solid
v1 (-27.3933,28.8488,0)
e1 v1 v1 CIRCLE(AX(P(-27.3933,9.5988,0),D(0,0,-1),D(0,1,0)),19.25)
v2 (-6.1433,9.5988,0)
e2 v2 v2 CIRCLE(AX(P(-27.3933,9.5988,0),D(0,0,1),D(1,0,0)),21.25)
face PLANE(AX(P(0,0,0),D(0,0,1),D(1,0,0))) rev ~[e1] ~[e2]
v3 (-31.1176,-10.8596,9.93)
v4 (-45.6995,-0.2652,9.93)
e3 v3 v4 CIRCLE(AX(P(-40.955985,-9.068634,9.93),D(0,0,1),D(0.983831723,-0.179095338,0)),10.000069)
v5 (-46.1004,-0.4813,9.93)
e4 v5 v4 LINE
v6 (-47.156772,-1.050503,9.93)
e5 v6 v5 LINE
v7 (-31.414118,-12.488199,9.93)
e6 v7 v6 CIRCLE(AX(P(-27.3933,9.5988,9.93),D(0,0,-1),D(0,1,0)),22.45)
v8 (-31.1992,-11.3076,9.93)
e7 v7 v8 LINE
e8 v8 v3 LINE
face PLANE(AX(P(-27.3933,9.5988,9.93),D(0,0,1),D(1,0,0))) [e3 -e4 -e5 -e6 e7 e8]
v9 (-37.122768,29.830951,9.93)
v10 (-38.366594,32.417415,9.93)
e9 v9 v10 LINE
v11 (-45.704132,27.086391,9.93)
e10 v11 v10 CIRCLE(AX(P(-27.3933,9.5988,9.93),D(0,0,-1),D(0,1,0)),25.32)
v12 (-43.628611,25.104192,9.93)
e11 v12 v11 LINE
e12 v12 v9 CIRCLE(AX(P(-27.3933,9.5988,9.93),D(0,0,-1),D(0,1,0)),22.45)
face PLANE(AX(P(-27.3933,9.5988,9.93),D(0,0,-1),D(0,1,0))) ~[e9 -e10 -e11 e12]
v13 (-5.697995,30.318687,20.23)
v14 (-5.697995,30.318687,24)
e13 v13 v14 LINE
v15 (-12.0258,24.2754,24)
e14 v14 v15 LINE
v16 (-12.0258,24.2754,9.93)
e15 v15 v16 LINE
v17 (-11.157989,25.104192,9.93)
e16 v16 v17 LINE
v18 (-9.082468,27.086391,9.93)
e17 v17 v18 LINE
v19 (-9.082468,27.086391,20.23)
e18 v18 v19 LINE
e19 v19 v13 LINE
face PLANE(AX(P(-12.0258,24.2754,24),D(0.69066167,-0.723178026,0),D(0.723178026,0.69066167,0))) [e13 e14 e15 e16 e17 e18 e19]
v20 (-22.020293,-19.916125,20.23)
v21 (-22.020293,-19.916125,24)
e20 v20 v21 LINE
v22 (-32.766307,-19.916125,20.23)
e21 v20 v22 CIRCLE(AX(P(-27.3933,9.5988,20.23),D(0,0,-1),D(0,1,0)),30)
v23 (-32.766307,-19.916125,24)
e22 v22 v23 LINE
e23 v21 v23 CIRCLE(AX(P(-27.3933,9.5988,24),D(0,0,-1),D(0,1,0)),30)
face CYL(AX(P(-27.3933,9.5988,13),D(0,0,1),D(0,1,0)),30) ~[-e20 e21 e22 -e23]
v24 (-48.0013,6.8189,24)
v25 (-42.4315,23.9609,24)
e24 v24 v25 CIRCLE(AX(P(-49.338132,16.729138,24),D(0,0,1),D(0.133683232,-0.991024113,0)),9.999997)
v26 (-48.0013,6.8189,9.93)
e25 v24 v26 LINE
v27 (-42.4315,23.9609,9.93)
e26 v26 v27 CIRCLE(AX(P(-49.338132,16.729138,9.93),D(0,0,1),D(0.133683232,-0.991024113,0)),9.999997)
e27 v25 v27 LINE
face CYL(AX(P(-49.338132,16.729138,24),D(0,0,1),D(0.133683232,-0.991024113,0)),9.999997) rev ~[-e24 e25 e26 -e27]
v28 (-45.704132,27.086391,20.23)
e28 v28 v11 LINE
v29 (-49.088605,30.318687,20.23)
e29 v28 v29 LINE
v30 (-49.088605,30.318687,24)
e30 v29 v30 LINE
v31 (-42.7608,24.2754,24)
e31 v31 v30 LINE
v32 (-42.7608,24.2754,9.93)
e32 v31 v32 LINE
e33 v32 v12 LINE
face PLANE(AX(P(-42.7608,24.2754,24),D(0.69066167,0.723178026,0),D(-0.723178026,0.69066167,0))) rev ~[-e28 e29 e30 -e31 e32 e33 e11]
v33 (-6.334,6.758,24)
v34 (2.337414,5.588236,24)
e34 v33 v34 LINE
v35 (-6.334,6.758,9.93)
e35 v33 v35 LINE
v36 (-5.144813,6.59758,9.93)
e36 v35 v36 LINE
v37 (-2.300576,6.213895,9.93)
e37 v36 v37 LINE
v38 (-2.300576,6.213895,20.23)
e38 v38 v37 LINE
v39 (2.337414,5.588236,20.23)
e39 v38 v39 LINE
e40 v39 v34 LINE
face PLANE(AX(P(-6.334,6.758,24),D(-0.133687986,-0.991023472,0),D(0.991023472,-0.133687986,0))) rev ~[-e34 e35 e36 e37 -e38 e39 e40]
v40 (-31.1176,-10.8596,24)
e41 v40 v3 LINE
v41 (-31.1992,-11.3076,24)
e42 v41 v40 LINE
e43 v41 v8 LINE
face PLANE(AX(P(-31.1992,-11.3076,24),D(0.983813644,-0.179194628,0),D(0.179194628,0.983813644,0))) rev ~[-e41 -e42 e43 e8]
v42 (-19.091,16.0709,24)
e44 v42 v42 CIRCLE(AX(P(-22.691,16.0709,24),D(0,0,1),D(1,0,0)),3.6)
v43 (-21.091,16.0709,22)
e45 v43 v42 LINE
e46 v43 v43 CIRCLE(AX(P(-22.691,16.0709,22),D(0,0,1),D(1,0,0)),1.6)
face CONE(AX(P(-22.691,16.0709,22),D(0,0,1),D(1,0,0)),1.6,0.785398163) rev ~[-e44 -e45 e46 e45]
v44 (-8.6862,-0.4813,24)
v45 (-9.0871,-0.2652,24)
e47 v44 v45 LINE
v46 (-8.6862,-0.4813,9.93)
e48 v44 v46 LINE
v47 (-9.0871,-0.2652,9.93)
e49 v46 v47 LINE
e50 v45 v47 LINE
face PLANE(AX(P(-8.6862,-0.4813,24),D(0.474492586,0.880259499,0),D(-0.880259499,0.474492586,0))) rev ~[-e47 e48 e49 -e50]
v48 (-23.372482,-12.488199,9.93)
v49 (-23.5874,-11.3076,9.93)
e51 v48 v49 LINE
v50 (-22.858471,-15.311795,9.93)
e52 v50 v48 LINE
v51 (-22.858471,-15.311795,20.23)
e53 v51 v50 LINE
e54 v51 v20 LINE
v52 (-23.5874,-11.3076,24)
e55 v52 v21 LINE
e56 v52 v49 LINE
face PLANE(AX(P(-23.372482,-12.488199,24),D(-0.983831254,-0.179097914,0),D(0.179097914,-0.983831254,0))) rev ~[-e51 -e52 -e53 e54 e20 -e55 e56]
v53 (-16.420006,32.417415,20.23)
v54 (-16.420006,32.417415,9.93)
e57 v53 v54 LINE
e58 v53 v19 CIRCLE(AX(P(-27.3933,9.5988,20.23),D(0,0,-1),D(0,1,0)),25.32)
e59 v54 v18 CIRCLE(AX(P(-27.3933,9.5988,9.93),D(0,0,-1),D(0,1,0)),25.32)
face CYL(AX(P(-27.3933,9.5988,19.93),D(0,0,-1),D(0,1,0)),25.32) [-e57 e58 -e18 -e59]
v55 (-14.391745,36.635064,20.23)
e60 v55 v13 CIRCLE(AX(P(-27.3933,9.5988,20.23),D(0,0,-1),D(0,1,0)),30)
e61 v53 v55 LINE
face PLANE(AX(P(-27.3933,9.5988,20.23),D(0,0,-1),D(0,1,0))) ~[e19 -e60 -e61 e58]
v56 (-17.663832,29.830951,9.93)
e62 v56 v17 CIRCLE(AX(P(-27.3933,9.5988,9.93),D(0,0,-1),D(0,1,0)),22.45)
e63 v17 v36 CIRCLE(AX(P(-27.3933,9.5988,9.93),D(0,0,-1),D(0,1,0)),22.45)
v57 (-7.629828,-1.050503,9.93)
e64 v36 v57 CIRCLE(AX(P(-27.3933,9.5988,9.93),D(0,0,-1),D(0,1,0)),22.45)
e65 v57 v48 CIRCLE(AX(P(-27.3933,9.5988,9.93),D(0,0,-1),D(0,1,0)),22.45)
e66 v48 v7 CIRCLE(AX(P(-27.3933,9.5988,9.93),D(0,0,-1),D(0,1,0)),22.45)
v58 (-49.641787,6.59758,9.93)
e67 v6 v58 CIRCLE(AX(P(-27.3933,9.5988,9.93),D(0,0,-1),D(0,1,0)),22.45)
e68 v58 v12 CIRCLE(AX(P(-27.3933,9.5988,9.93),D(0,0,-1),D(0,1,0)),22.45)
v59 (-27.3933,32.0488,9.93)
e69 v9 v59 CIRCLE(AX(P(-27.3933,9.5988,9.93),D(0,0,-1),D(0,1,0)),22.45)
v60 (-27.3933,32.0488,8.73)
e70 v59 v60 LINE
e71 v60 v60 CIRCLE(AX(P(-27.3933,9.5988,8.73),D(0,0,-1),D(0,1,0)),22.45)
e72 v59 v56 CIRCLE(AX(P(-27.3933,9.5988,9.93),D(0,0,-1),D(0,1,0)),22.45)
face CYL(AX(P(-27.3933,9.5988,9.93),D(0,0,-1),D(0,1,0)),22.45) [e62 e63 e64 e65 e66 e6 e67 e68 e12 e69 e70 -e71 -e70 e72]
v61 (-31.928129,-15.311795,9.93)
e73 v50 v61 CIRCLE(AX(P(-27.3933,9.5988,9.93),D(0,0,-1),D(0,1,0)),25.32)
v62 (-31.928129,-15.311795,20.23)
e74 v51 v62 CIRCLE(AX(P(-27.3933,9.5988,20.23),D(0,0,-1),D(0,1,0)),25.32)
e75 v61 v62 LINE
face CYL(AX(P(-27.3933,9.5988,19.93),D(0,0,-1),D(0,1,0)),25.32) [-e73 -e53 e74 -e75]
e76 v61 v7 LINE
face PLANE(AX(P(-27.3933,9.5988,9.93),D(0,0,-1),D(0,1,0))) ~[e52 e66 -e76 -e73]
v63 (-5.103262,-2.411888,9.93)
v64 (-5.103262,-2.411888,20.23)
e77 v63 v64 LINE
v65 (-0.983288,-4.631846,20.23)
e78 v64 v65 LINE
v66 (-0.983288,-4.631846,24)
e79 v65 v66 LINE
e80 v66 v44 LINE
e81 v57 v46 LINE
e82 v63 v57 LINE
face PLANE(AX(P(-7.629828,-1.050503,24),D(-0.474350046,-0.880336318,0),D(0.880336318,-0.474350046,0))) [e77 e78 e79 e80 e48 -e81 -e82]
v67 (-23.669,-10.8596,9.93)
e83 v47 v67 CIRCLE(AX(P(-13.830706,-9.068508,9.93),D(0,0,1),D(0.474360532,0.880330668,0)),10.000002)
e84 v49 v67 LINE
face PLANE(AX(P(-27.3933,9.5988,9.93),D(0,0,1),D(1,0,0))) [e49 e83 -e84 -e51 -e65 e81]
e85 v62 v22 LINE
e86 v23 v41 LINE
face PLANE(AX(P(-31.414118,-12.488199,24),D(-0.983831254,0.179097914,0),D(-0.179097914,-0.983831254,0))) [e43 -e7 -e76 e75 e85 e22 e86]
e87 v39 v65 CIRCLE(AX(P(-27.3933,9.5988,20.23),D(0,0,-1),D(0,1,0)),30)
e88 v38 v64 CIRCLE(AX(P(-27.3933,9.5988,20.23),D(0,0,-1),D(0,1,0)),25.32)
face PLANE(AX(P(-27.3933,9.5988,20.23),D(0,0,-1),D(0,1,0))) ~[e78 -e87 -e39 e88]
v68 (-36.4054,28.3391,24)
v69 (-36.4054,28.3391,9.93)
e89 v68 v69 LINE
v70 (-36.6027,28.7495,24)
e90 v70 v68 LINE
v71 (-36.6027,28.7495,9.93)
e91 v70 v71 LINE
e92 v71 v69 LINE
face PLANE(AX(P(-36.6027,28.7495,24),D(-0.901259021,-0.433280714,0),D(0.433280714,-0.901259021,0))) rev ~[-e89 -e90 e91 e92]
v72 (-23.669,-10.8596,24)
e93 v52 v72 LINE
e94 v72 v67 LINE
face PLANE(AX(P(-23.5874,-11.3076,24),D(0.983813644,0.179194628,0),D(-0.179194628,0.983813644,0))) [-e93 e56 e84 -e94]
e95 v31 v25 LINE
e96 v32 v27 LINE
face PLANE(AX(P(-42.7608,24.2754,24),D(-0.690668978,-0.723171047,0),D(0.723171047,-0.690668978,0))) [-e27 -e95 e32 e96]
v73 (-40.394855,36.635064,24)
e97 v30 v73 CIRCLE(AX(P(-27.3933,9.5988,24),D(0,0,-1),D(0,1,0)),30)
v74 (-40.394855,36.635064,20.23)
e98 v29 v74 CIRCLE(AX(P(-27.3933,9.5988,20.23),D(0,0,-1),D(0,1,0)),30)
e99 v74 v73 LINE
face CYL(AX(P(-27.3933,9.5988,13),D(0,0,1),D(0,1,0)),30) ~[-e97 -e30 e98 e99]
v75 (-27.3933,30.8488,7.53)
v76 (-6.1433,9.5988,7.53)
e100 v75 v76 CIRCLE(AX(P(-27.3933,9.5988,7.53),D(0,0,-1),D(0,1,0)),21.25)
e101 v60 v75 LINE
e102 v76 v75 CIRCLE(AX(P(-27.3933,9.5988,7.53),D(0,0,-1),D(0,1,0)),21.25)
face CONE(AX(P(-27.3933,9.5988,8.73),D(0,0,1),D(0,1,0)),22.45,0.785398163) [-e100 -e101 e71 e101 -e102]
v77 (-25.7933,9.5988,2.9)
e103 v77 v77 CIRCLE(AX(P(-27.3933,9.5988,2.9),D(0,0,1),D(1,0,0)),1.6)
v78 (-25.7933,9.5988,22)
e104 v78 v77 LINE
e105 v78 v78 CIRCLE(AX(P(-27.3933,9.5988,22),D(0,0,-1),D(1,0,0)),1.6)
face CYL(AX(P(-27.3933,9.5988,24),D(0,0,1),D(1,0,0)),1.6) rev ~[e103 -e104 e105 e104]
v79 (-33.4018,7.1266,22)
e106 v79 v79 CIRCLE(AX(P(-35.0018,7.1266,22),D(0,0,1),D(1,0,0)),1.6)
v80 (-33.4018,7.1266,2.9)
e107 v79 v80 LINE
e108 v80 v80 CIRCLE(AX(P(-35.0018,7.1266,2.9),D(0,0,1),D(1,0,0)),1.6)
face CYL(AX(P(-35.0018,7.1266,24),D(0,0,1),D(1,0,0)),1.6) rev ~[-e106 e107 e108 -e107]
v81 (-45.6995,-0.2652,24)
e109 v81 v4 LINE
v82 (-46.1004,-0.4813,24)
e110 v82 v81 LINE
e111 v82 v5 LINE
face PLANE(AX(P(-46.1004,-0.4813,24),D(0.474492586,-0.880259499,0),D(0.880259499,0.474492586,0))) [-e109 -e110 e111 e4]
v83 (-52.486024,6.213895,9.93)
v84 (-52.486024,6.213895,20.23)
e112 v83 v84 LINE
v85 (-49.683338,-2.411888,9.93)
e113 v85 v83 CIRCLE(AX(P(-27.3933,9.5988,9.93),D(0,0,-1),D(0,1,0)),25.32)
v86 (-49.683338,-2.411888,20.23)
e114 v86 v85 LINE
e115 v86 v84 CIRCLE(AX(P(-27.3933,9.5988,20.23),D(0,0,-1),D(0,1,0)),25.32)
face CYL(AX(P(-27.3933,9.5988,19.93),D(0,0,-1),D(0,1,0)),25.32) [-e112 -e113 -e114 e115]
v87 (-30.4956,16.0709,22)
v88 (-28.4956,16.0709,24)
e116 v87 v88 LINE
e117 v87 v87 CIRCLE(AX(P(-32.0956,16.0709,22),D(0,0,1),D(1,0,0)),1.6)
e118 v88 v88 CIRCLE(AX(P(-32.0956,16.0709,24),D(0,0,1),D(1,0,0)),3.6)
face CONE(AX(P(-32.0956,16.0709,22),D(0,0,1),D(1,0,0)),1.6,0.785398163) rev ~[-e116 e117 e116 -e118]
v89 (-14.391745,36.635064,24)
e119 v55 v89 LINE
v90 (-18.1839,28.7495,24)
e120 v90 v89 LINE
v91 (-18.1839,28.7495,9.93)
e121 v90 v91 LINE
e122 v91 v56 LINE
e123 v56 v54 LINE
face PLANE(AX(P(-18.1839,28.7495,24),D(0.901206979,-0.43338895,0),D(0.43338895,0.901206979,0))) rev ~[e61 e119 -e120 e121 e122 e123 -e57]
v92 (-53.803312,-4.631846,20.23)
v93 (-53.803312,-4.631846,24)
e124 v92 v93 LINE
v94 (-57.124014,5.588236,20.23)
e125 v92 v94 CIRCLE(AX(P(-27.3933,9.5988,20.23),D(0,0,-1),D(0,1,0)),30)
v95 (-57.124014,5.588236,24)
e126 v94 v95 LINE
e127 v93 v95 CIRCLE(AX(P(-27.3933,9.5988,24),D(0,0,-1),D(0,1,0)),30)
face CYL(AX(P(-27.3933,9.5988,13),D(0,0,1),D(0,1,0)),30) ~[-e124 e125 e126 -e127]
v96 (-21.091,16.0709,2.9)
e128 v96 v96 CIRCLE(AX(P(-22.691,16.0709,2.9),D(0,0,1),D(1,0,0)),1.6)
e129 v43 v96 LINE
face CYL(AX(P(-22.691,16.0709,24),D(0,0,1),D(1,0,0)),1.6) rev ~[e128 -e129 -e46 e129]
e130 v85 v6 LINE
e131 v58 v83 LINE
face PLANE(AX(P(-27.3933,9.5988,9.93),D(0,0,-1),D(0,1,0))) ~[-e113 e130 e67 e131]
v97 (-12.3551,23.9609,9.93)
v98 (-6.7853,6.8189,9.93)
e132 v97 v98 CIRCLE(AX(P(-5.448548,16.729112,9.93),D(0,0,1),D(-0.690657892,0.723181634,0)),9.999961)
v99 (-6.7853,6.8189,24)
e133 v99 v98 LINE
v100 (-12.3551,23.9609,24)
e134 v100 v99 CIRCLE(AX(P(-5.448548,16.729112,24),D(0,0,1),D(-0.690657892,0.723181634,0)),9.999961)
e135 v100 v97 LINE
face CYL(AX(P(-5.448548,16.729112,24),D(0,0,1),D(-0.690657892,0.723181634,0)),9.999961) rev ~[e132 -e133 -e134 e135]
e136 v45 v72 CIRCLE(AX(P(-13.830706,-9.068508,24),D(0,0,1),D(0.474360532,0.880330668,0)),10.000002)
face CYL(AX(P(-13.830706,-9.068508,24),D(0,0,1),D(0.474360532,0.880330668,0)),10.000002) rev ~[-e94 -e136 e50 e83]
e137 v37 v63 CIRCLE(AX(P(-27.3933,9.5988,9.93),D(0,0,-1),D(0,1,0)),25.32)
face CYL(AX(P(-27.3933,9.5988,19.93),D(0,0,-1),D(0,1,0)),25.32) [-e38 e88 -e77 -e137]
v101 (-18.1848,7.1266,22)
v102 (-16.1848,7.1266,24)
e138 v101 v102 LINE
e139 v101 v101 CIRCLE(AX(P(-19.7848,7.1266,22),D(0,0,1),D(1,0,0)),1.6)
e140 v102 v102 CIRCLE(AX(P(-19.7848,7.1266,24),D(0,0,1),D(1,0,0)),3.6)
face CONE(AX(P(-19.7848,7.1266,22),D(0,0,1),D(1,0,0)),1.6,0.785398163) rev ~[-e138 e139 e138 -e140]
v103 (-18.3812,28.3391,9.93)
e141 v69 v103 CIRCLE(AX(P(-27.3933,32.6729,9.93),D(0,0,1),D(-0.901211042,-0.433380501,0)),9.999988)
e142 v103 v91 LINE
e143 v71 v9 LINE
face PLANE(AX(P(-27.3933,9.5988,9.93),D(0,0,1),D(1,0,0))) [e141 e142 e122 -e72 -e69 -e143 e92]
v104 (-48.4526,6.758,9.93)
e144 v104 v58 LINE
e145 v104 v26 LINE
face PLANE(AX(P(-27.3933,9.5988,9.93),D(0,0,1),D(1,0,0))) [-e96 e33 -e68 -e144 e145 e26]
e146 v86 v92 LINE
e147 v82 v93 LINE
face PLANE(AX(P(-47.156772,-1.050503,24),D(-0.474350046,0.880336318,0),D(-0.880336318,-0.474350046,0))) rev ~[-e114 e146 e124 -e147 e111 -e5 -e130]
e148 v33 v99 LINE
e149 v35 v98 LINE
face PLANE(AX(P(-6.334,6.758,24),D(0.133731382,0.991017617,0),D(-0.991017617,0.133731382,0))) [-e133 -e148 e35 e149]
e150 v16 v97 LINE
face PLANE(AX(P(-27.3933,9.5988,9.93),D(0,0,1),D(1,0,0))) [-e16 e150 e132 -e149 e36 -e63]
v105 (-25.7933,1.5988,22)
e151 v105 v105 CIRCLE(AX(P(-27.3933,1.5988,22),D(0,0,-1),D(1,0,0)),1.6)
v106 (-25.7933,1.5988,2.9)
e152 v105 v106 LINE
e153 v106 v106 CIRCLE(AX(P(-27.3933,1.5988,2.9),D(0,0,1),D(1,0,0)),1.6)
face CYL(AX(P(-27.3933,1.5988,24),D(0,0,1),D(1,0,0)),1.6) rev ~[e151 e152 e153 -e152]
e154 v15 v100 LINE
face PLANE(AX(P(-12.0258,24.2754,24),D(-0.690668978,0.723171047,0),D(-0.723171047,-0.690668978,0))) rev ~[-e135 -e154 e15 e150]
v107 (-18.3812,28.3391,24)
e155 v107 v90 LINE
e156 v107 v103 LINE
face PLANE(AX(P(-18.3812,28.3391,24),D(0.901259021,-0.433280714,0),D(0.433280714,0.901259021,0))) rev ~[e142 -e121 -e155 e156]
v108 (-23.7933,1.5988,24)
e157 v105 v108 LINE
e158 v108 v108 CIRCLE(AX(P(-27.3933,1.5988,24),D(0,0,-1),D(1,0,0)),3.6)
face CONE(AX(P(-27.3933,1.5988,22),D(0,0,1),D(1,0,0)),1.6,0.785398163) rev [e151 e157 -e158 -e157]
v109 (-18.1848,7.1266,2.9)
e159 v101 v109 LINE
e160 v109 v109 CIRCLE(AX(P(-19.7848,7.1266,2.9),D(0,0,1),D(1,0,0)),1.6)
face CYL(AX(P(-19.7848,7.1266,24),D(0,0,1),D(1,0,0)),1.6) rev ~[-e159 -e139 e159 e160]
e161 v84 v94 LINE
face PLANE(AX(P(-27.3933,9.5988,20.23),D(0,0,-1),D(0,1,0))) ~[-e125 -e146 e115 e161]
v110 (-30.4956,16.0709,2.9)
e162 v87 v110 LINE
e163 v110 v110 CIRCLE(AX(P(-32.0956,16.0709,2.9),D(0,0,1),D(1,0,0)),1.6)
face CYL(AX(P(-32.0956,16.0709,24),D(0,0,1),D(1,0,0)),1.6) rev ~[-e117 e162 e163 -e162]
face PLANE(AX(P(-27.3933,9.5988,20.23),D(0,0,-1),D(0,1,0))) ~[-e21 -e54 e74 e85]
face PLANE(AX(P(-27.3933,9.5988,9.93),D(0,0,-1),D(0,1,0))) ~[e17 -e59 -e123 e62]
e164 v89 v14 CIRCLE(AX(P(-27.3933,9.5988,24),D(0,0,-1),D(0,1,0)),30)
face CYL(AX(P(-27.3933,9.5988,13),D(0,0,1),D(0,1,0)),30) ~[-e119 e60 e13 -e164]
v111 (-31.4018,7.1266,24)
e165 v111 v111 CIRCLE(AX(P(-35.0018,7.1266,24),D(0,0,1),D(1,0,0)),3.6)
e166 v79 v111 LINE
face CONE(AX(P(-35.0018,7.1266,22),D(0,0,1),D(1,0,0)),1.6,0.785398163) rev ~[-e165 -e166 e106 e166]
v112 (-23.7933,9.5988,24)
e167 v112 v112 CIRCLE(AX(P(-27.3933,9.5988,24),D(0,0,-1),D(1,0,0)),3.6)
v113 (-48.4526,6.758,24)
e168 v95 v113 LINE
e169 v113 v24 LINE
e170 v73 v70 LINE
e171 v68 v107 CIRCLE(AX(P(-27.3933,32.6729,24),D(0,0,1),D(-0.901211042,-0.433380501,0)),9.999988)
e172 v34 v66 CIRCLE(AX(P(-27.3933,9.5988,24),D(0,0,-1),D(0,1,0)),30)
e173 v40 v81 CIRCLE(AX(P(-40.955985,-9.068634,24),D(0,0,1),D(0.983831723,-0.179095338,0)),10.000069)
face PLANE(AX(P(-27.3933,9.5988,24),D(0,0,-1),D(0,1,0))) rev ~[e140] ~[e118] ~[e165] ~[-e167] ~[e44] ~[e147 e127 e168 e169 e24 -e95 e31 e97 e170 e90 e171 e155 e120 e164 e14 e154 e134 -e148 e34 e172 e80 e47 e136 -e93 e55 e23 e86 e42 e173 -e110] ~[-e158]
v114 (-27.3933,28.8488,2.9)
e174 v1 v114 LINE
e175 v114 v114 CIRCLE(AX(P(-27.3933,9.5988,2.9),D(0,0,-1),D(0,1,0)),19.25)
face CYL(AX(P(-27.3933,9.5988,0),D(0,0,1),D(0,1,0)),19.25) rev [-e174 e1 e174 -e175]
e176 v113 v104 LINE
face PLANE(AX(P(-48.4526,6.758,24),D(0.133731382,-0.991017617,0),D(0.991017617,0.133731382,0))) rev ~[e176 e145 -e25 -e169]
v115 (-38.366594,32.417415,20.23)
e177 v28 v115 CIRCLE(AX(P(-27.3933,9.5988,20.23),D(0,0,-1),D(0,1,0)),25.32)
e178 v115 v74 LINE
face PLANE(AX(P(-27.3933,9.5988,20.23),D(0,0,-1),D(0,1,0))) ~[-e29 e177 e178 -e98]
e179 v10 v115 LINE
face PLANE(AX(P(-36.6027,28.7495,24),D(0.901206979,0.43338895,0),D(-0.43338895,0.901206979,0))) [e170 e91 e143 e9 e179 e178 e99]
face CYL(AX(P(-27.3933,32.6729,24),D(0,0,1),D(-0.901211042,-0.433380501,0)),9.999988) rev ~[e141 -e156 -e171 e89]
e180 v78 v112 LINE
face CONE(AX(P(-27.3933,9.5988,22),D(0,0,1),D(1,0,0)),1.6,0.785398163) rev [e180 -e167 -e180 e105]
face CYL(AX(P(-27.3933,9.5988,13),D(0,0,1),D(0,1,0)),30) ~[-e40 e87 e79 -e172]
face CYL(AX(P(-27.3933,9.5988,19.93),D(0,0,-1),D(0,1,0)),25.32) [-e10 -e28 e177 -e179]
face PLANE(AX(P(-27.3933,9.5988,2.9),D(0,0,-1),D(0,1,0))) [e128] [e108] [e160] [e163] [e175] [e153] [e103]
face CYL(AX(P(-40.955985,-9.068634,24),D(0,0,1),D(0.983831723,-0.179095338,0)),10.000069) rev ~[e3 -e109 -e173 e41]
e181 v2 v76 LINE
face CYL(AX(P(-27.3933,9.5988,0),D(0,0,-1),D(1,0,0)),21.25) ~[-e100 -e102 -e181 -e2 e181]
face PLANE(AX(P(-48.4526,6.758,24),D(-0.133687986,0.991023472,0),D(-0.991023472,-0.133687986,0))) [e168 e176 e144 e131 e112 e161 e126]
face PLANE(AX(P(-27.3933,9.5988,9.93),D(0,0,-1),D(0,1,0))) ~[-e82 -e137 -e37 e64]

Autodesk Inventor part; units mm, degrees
ref_plane "YZ Plane" through (0, 0, 0) normal (1, 0, 0) x (0, 1, 0)
ref_plane "XZ Plane" through (0, 0, 0) normal (0, 1, 0) x (-1, 0, 0)
sketch "Эскиз1" plane through (0, 0, 0) normal (0, 0, 1) x (1, 0, 0)
  circle A0 centre (-27.3933, 9.5988) radius 21.25 projected
  circle A1 centre (-27.3933, 9.5988) radius 18.75 projected
  point P0 (0, 0)
ref_plane "РабПлоскость1" through (-34.9651, 34.6315, 13) normal (0, 0, 1) x (1, 0, 0)
extrude "Выдавливание1" add sketch "Эскиз1" along normal up to surface (13 mm away) contours A0 | A1
ref_plane "РабПлоскость3" through (-27.3933, 9.5988, 13) normal (-1, 0, 0) x (0, -1, 0)
sketch "Эскиз3" plane through (-27.3933, 9.5988, 13) normal (-1, 0, 0) x (0, -1, 0)
  line L0 (-22.45, -4.27) -> (-21.25, -5.47)
  line L1 (-22.45, -3.07) -> (-22.45, -4.27)
  line L2 (30, -3.07) -> (-30, -3.07) projected
  line L3 (30, -3.07) -> (-30, -3.07) projected
  line L4 (-21.25, 0) -> (21.25, 0) projected
  line L5 (-21.25, 0) -> (-30, 0)
  line L6 (-30, 0) -> (-30, -3.07)
  line L7 (-30, -3.07) -> (-21.25, -3.07)
  line L8 (-21.25, -3.07) -> (-21.25, 0)
  line L9 (0, 0) -> (0, -13)
  line L10 (21.25, -13) -> (-21.25, -13) projected
  line L11 (-21.25, -13) -> (-21.25, 0) projected
  line L12 (0, 0) -> (-30, 0)
  line L13 (-30, 0) -> (-30, 11)
  line L14 (-30, 11) -> (0, 11)
  line L15 (0, 11) -> (0, 0)
  line L16 (-25.52, 6.93) -> (-25.52, -23)
  line L17 (-25.32, 6.93) -> (-25.32, -23)
  line L18 (-25.32, 6.93) -> (-25.32, 11)
  line L19 (-25.32, 6.93) -> (-30, 6.93)
  line L20 (-25.32, 7.23) -> (-30, 7.23)
  point P0 (9.5988, -13)
  point P1 (-21.25, -3.07)
  point P2 (-25.32, -3.07)
  dimension "d21" = 11
  dimension "d25" = 0.2
  dimension "d26" = 0.3
revolve "Вращение1" add sketch "Эскиз3" angle 360 about axis through (-27.3933, 9.5988, 13) along (0, 0, -1) contours L1 L2 L11 L0 | L2 L17 L5 L8 | L5 L17 L18 L14 L15 L4 | L20 L13 L14 L18
sketch "Эскиз5" plane through (-27.3933, 9.5988, 24) normal (0, 0, 1) x (1, 0, 0)
  circle A0 centre (0, 0) radius 22.45 projected
  line L0 (-30.0943, 4.3007) -> (-34.526, 5.7406) projected
  arc A1 (-34.526, 5.7406) -> (-24.5579, -24.9382) centre (0, 0) ccw projected
  line L1 (-24.5579, -24.9382) -> (-21.8189, -21.1683) projected
  arc A2 (-21.8189, -21.1683) -> (-13.3898, -27.2924) centre (0, 0) ccw projected
  line L2 (-13.3898, -27.2924) -> (-16.1288, -31.0622) projected
  arc A3 (-16.1288, -31.0622) -> (16.1288, -31.0622) centre (0, 0) ccw projected
  line L3 (16.1288, -31.0622) -> (13.3898, -27.2924) projected
  arc A4 (13.3898, -27.2924) -> (21.8189, -21.1683) centre (0, 0) ccw projected
  line L4 (21.8189, -21.1683) -> (24.5579, -24.9382) projected
  arc A5 (24.5579, -24.9382) -> (34.526, 5.7406) centre (0, 0) ccw projected
  line L5 (34.526, 5.7406) -> (30.0943, 4.3007) projected
  arc A6 (30.0943, 4.3007) -> (26.8746, 14.2096) centre (0, 0) ccw projected
  line L6 (26.8746, 14.2096) -> (31.3064, 15.6496) projected
  arc A7 (31.3064, 15.6496) -> (5.2094, 34.6101) centre (0, 0) ccw projected
  line L7 (5.2094, 34.6101) -> (5.2094, 29.9503) projected
  arc A8 (5.2094, 29.9503) -> (-5.2094, 29.9503) centre (0, 0) ccw projected
  line L8 (-5.2094, 29.9503) -> (-5.2094, 34.6101) projected
  arc A9 (-5.2094, 34.6101) -> (-31.3064, 15.6496) centre (0, 0) ccw projected
  line L9 (-31.3064, 15.6496) -> (-26.8746, 14.2096) projected
  arc A10 (-26.8746, 14.2096) -> (-30.0943, 4.3007) centre (0, 0) ccw projected
  line L10 (3.8059, -20.9064) -> (6.2685, -34.4341) projected
  line L11 (18.7071, -10.0801) -> (30.8117, -16.6024) projected
  line L12 (21.0593, -2.8408) -> (34.6858, -4.679) projected
  line L13 (15.3675, 14.6766) -> (25.3112, 24.1732) projected
  line L14 (9.2094, 19.1507) -> (15.1685, 31.5423) projected
  line L15 (-9.2094, 19.1507) -> (-15.1685, 31.5423) projected
  line L16 (-15.3675, 14.6766) -> (-25.3112, 24.1732) projected
  line L17 (-21.0593, -2.8408) -> (-34.6858, -4.679) projected
  line L18 (-18.7071, -10.0801) -> (-30.8117, -16.6024) projected
  line L19 (-3.8059, -20.9064) -> (-6.2685, -34.4341) projected
  circle A11 centre (0, 0) radius 21.25 projected
  line L20 (-9.2094, 19.1507) -> (-9.0121, 18.7403)
  line L21 (9.0121, 18.7403) -> (9.2094, 19.1507)
  line L22 (15.3675, 14.6766) -> (15.0382, 14.3621)
  line L23 (21.0593, -2.8408) -> (20.608, -2.7799)
  line L24 (18.7071, -10.0801) -> (18.3062, -9.864)
  line L25 (3.8059, -20.9064) -> (3.7243, -20.4584)
  line L26 (-3.8059, -20.9064) -> (-3.7243, -20.4584)
  line L27 (-18.7071, -10.0801) -> (-18.3062, -9.864)
  line L28 (-21.0593, -2.8408) -> (-20.608, -2.7799)
  line L29 (-15.3675, 14.6766) -> (-15.0382, 14.3621)
  arc A12 (-20.608, -2.7799) -> (-15.0382, 14.3621) centre (-21.9448, 7.1303) ccw
  arc A13 (-9.0121, 18.7403) -> (9.0121, 18.7403) centre (0, 23.0741) ccw
  arc A14 (15.0382, 14.3621) -> (20.608, -2.7799) centre (21.9448, 7.1303) ccw
  arc A15 (18.3062, -9.864) -> (3.7243, -20.4584) centre (13.5626, -18.6674) ccw
  arc A16 (-3.7243, -20.4584) -> (-18.3062, -9.864) centre (-13.5626, -18.6674) ccw
  point P0 (27.3933, -9.5988)
  dimension "d22" = 10
extrude "Выдавливание3" cut sketch "Эскиз5" against normal up to surface (14.07 mm away) contours A0 L12 A11 L13 | A0 L13 A7 L6 A6 L5 A5 L12 | L14 A11 L15 A0 | A0 L15 A9 L8 A8 L7 A7 L14 | A11 L23 A14 L22 | L11 A5 L4 A4 L3 A3 L10 A0 | A0 L10 A11 L11 | L21 A13 L20 A11 | A11 L25 A15 L24 | L16 A11 L17 A0 | A0 L17 A1 L0 A10 L9 A9 L16 | L19 A3 L2 A2 L1 A1 L18 A0 | A0 L18 A11 L19 | L29 A12 L28 A11 | A11 L27 A16 L26
sketch "Эскиз6" plane through (-27.3933, 9.5988, 13) normal (-1, 0, 0) x (0, -1, 0)
  line L0 (16.6287, -10.8787) -> (-16.6287, -10.8787) projected
  line L1 (-21.25, -13) -> (21.25, -13) projected
  line L2 (-18.75, -13) -> (-16.6287, -10.8787)
  line L3 (18.75, -13) -> (16.6287, -10.8787)
  line L4 (21.25, -13) -> (-21.25, -13) projected
  line L5 (-21.25, -13) -> (-19.25, -13)
  line L6 (-19.25, -13) -> (-17.1287, -10.8787)
  line L7 (0, -10.8787) -> (0, -10.3787)
  line L8 (0, -10.3787) -> (-16.6287, -10.3787)
  line L9 (-16.6287, -10.3787) -> (-17.1287, -10.8787)
  line L10 (0, -10.3787) -> (0, -13)
  line L11 (0, -13) -> (-19.25, -13)
  line L12 (-19.25, -13) -> (-19.25, -10.1)
  line L13 (-19.25, -10.1) -> (0, -10.1)
  line L14 (0, -10.3787) -> (0, -10.1)
  point P0 (20.25, -13)
  point P1 (-19.25, -13)
  dimension "d29" = 2
  dimension "d30" = 135
  dimension "d31" = 0.5
  dimension "d44" = 2.9
revolve "Вращение2" cut sketch "Эскиз6" angle 360 about axis through (-27.3933, 9.5988, 2.6213) along (0, 0, -1) contours L10 L1 L2 L0 | L0 L2 L1 L6 L9 L8 L7 | L8 L9 L6 L12 L13 L14
sketch "Эскиз7" plane through (-27.3933, 32.6729, 24) normal (0, 0, 1) x (1, 0, 0)
  circle A0 centre (0, -23.0741) radius 22.45 projected
  circle A1 centre (0, -23.0741) radius 1.6
  line L0 (0, -23.0741) -> (0, -31.0741)
  circle A2 centre (0, -31.0741) radius 1.6
  circle A3 centre (7.6085, -25.5463) radius 1.6
  circle A4 centre (4.7023, -16.602) radius 1.6
  circle A5 centre (-4.7023, -16.602) radius 1.6
  circle A6 centre (-7.6085, -25.5463) radius 1.6
  point P0 (27.3933, -32.6729)
  dimension "d33" = 3.2
  dimension "d34" = 8
  dimension "d37" = 360
extrude "Выдавливание4" cut sketch "Эскиз7" against normal blind 30 contours A1 | A2 | A3 | A4 | A5 | A6
chamfer "Фаска1" distance 2 angle 45 6 edges at (-28.9933, 1.5988, 24) (-36.6017, 7.1266, 24) (-33.6955, 16.0709, 24) (-28.9933, 9.5988, 24) (-24.291, 16.0709, 24) (-21.3848, 7.1266, 24)
properties part number "tire cap"
